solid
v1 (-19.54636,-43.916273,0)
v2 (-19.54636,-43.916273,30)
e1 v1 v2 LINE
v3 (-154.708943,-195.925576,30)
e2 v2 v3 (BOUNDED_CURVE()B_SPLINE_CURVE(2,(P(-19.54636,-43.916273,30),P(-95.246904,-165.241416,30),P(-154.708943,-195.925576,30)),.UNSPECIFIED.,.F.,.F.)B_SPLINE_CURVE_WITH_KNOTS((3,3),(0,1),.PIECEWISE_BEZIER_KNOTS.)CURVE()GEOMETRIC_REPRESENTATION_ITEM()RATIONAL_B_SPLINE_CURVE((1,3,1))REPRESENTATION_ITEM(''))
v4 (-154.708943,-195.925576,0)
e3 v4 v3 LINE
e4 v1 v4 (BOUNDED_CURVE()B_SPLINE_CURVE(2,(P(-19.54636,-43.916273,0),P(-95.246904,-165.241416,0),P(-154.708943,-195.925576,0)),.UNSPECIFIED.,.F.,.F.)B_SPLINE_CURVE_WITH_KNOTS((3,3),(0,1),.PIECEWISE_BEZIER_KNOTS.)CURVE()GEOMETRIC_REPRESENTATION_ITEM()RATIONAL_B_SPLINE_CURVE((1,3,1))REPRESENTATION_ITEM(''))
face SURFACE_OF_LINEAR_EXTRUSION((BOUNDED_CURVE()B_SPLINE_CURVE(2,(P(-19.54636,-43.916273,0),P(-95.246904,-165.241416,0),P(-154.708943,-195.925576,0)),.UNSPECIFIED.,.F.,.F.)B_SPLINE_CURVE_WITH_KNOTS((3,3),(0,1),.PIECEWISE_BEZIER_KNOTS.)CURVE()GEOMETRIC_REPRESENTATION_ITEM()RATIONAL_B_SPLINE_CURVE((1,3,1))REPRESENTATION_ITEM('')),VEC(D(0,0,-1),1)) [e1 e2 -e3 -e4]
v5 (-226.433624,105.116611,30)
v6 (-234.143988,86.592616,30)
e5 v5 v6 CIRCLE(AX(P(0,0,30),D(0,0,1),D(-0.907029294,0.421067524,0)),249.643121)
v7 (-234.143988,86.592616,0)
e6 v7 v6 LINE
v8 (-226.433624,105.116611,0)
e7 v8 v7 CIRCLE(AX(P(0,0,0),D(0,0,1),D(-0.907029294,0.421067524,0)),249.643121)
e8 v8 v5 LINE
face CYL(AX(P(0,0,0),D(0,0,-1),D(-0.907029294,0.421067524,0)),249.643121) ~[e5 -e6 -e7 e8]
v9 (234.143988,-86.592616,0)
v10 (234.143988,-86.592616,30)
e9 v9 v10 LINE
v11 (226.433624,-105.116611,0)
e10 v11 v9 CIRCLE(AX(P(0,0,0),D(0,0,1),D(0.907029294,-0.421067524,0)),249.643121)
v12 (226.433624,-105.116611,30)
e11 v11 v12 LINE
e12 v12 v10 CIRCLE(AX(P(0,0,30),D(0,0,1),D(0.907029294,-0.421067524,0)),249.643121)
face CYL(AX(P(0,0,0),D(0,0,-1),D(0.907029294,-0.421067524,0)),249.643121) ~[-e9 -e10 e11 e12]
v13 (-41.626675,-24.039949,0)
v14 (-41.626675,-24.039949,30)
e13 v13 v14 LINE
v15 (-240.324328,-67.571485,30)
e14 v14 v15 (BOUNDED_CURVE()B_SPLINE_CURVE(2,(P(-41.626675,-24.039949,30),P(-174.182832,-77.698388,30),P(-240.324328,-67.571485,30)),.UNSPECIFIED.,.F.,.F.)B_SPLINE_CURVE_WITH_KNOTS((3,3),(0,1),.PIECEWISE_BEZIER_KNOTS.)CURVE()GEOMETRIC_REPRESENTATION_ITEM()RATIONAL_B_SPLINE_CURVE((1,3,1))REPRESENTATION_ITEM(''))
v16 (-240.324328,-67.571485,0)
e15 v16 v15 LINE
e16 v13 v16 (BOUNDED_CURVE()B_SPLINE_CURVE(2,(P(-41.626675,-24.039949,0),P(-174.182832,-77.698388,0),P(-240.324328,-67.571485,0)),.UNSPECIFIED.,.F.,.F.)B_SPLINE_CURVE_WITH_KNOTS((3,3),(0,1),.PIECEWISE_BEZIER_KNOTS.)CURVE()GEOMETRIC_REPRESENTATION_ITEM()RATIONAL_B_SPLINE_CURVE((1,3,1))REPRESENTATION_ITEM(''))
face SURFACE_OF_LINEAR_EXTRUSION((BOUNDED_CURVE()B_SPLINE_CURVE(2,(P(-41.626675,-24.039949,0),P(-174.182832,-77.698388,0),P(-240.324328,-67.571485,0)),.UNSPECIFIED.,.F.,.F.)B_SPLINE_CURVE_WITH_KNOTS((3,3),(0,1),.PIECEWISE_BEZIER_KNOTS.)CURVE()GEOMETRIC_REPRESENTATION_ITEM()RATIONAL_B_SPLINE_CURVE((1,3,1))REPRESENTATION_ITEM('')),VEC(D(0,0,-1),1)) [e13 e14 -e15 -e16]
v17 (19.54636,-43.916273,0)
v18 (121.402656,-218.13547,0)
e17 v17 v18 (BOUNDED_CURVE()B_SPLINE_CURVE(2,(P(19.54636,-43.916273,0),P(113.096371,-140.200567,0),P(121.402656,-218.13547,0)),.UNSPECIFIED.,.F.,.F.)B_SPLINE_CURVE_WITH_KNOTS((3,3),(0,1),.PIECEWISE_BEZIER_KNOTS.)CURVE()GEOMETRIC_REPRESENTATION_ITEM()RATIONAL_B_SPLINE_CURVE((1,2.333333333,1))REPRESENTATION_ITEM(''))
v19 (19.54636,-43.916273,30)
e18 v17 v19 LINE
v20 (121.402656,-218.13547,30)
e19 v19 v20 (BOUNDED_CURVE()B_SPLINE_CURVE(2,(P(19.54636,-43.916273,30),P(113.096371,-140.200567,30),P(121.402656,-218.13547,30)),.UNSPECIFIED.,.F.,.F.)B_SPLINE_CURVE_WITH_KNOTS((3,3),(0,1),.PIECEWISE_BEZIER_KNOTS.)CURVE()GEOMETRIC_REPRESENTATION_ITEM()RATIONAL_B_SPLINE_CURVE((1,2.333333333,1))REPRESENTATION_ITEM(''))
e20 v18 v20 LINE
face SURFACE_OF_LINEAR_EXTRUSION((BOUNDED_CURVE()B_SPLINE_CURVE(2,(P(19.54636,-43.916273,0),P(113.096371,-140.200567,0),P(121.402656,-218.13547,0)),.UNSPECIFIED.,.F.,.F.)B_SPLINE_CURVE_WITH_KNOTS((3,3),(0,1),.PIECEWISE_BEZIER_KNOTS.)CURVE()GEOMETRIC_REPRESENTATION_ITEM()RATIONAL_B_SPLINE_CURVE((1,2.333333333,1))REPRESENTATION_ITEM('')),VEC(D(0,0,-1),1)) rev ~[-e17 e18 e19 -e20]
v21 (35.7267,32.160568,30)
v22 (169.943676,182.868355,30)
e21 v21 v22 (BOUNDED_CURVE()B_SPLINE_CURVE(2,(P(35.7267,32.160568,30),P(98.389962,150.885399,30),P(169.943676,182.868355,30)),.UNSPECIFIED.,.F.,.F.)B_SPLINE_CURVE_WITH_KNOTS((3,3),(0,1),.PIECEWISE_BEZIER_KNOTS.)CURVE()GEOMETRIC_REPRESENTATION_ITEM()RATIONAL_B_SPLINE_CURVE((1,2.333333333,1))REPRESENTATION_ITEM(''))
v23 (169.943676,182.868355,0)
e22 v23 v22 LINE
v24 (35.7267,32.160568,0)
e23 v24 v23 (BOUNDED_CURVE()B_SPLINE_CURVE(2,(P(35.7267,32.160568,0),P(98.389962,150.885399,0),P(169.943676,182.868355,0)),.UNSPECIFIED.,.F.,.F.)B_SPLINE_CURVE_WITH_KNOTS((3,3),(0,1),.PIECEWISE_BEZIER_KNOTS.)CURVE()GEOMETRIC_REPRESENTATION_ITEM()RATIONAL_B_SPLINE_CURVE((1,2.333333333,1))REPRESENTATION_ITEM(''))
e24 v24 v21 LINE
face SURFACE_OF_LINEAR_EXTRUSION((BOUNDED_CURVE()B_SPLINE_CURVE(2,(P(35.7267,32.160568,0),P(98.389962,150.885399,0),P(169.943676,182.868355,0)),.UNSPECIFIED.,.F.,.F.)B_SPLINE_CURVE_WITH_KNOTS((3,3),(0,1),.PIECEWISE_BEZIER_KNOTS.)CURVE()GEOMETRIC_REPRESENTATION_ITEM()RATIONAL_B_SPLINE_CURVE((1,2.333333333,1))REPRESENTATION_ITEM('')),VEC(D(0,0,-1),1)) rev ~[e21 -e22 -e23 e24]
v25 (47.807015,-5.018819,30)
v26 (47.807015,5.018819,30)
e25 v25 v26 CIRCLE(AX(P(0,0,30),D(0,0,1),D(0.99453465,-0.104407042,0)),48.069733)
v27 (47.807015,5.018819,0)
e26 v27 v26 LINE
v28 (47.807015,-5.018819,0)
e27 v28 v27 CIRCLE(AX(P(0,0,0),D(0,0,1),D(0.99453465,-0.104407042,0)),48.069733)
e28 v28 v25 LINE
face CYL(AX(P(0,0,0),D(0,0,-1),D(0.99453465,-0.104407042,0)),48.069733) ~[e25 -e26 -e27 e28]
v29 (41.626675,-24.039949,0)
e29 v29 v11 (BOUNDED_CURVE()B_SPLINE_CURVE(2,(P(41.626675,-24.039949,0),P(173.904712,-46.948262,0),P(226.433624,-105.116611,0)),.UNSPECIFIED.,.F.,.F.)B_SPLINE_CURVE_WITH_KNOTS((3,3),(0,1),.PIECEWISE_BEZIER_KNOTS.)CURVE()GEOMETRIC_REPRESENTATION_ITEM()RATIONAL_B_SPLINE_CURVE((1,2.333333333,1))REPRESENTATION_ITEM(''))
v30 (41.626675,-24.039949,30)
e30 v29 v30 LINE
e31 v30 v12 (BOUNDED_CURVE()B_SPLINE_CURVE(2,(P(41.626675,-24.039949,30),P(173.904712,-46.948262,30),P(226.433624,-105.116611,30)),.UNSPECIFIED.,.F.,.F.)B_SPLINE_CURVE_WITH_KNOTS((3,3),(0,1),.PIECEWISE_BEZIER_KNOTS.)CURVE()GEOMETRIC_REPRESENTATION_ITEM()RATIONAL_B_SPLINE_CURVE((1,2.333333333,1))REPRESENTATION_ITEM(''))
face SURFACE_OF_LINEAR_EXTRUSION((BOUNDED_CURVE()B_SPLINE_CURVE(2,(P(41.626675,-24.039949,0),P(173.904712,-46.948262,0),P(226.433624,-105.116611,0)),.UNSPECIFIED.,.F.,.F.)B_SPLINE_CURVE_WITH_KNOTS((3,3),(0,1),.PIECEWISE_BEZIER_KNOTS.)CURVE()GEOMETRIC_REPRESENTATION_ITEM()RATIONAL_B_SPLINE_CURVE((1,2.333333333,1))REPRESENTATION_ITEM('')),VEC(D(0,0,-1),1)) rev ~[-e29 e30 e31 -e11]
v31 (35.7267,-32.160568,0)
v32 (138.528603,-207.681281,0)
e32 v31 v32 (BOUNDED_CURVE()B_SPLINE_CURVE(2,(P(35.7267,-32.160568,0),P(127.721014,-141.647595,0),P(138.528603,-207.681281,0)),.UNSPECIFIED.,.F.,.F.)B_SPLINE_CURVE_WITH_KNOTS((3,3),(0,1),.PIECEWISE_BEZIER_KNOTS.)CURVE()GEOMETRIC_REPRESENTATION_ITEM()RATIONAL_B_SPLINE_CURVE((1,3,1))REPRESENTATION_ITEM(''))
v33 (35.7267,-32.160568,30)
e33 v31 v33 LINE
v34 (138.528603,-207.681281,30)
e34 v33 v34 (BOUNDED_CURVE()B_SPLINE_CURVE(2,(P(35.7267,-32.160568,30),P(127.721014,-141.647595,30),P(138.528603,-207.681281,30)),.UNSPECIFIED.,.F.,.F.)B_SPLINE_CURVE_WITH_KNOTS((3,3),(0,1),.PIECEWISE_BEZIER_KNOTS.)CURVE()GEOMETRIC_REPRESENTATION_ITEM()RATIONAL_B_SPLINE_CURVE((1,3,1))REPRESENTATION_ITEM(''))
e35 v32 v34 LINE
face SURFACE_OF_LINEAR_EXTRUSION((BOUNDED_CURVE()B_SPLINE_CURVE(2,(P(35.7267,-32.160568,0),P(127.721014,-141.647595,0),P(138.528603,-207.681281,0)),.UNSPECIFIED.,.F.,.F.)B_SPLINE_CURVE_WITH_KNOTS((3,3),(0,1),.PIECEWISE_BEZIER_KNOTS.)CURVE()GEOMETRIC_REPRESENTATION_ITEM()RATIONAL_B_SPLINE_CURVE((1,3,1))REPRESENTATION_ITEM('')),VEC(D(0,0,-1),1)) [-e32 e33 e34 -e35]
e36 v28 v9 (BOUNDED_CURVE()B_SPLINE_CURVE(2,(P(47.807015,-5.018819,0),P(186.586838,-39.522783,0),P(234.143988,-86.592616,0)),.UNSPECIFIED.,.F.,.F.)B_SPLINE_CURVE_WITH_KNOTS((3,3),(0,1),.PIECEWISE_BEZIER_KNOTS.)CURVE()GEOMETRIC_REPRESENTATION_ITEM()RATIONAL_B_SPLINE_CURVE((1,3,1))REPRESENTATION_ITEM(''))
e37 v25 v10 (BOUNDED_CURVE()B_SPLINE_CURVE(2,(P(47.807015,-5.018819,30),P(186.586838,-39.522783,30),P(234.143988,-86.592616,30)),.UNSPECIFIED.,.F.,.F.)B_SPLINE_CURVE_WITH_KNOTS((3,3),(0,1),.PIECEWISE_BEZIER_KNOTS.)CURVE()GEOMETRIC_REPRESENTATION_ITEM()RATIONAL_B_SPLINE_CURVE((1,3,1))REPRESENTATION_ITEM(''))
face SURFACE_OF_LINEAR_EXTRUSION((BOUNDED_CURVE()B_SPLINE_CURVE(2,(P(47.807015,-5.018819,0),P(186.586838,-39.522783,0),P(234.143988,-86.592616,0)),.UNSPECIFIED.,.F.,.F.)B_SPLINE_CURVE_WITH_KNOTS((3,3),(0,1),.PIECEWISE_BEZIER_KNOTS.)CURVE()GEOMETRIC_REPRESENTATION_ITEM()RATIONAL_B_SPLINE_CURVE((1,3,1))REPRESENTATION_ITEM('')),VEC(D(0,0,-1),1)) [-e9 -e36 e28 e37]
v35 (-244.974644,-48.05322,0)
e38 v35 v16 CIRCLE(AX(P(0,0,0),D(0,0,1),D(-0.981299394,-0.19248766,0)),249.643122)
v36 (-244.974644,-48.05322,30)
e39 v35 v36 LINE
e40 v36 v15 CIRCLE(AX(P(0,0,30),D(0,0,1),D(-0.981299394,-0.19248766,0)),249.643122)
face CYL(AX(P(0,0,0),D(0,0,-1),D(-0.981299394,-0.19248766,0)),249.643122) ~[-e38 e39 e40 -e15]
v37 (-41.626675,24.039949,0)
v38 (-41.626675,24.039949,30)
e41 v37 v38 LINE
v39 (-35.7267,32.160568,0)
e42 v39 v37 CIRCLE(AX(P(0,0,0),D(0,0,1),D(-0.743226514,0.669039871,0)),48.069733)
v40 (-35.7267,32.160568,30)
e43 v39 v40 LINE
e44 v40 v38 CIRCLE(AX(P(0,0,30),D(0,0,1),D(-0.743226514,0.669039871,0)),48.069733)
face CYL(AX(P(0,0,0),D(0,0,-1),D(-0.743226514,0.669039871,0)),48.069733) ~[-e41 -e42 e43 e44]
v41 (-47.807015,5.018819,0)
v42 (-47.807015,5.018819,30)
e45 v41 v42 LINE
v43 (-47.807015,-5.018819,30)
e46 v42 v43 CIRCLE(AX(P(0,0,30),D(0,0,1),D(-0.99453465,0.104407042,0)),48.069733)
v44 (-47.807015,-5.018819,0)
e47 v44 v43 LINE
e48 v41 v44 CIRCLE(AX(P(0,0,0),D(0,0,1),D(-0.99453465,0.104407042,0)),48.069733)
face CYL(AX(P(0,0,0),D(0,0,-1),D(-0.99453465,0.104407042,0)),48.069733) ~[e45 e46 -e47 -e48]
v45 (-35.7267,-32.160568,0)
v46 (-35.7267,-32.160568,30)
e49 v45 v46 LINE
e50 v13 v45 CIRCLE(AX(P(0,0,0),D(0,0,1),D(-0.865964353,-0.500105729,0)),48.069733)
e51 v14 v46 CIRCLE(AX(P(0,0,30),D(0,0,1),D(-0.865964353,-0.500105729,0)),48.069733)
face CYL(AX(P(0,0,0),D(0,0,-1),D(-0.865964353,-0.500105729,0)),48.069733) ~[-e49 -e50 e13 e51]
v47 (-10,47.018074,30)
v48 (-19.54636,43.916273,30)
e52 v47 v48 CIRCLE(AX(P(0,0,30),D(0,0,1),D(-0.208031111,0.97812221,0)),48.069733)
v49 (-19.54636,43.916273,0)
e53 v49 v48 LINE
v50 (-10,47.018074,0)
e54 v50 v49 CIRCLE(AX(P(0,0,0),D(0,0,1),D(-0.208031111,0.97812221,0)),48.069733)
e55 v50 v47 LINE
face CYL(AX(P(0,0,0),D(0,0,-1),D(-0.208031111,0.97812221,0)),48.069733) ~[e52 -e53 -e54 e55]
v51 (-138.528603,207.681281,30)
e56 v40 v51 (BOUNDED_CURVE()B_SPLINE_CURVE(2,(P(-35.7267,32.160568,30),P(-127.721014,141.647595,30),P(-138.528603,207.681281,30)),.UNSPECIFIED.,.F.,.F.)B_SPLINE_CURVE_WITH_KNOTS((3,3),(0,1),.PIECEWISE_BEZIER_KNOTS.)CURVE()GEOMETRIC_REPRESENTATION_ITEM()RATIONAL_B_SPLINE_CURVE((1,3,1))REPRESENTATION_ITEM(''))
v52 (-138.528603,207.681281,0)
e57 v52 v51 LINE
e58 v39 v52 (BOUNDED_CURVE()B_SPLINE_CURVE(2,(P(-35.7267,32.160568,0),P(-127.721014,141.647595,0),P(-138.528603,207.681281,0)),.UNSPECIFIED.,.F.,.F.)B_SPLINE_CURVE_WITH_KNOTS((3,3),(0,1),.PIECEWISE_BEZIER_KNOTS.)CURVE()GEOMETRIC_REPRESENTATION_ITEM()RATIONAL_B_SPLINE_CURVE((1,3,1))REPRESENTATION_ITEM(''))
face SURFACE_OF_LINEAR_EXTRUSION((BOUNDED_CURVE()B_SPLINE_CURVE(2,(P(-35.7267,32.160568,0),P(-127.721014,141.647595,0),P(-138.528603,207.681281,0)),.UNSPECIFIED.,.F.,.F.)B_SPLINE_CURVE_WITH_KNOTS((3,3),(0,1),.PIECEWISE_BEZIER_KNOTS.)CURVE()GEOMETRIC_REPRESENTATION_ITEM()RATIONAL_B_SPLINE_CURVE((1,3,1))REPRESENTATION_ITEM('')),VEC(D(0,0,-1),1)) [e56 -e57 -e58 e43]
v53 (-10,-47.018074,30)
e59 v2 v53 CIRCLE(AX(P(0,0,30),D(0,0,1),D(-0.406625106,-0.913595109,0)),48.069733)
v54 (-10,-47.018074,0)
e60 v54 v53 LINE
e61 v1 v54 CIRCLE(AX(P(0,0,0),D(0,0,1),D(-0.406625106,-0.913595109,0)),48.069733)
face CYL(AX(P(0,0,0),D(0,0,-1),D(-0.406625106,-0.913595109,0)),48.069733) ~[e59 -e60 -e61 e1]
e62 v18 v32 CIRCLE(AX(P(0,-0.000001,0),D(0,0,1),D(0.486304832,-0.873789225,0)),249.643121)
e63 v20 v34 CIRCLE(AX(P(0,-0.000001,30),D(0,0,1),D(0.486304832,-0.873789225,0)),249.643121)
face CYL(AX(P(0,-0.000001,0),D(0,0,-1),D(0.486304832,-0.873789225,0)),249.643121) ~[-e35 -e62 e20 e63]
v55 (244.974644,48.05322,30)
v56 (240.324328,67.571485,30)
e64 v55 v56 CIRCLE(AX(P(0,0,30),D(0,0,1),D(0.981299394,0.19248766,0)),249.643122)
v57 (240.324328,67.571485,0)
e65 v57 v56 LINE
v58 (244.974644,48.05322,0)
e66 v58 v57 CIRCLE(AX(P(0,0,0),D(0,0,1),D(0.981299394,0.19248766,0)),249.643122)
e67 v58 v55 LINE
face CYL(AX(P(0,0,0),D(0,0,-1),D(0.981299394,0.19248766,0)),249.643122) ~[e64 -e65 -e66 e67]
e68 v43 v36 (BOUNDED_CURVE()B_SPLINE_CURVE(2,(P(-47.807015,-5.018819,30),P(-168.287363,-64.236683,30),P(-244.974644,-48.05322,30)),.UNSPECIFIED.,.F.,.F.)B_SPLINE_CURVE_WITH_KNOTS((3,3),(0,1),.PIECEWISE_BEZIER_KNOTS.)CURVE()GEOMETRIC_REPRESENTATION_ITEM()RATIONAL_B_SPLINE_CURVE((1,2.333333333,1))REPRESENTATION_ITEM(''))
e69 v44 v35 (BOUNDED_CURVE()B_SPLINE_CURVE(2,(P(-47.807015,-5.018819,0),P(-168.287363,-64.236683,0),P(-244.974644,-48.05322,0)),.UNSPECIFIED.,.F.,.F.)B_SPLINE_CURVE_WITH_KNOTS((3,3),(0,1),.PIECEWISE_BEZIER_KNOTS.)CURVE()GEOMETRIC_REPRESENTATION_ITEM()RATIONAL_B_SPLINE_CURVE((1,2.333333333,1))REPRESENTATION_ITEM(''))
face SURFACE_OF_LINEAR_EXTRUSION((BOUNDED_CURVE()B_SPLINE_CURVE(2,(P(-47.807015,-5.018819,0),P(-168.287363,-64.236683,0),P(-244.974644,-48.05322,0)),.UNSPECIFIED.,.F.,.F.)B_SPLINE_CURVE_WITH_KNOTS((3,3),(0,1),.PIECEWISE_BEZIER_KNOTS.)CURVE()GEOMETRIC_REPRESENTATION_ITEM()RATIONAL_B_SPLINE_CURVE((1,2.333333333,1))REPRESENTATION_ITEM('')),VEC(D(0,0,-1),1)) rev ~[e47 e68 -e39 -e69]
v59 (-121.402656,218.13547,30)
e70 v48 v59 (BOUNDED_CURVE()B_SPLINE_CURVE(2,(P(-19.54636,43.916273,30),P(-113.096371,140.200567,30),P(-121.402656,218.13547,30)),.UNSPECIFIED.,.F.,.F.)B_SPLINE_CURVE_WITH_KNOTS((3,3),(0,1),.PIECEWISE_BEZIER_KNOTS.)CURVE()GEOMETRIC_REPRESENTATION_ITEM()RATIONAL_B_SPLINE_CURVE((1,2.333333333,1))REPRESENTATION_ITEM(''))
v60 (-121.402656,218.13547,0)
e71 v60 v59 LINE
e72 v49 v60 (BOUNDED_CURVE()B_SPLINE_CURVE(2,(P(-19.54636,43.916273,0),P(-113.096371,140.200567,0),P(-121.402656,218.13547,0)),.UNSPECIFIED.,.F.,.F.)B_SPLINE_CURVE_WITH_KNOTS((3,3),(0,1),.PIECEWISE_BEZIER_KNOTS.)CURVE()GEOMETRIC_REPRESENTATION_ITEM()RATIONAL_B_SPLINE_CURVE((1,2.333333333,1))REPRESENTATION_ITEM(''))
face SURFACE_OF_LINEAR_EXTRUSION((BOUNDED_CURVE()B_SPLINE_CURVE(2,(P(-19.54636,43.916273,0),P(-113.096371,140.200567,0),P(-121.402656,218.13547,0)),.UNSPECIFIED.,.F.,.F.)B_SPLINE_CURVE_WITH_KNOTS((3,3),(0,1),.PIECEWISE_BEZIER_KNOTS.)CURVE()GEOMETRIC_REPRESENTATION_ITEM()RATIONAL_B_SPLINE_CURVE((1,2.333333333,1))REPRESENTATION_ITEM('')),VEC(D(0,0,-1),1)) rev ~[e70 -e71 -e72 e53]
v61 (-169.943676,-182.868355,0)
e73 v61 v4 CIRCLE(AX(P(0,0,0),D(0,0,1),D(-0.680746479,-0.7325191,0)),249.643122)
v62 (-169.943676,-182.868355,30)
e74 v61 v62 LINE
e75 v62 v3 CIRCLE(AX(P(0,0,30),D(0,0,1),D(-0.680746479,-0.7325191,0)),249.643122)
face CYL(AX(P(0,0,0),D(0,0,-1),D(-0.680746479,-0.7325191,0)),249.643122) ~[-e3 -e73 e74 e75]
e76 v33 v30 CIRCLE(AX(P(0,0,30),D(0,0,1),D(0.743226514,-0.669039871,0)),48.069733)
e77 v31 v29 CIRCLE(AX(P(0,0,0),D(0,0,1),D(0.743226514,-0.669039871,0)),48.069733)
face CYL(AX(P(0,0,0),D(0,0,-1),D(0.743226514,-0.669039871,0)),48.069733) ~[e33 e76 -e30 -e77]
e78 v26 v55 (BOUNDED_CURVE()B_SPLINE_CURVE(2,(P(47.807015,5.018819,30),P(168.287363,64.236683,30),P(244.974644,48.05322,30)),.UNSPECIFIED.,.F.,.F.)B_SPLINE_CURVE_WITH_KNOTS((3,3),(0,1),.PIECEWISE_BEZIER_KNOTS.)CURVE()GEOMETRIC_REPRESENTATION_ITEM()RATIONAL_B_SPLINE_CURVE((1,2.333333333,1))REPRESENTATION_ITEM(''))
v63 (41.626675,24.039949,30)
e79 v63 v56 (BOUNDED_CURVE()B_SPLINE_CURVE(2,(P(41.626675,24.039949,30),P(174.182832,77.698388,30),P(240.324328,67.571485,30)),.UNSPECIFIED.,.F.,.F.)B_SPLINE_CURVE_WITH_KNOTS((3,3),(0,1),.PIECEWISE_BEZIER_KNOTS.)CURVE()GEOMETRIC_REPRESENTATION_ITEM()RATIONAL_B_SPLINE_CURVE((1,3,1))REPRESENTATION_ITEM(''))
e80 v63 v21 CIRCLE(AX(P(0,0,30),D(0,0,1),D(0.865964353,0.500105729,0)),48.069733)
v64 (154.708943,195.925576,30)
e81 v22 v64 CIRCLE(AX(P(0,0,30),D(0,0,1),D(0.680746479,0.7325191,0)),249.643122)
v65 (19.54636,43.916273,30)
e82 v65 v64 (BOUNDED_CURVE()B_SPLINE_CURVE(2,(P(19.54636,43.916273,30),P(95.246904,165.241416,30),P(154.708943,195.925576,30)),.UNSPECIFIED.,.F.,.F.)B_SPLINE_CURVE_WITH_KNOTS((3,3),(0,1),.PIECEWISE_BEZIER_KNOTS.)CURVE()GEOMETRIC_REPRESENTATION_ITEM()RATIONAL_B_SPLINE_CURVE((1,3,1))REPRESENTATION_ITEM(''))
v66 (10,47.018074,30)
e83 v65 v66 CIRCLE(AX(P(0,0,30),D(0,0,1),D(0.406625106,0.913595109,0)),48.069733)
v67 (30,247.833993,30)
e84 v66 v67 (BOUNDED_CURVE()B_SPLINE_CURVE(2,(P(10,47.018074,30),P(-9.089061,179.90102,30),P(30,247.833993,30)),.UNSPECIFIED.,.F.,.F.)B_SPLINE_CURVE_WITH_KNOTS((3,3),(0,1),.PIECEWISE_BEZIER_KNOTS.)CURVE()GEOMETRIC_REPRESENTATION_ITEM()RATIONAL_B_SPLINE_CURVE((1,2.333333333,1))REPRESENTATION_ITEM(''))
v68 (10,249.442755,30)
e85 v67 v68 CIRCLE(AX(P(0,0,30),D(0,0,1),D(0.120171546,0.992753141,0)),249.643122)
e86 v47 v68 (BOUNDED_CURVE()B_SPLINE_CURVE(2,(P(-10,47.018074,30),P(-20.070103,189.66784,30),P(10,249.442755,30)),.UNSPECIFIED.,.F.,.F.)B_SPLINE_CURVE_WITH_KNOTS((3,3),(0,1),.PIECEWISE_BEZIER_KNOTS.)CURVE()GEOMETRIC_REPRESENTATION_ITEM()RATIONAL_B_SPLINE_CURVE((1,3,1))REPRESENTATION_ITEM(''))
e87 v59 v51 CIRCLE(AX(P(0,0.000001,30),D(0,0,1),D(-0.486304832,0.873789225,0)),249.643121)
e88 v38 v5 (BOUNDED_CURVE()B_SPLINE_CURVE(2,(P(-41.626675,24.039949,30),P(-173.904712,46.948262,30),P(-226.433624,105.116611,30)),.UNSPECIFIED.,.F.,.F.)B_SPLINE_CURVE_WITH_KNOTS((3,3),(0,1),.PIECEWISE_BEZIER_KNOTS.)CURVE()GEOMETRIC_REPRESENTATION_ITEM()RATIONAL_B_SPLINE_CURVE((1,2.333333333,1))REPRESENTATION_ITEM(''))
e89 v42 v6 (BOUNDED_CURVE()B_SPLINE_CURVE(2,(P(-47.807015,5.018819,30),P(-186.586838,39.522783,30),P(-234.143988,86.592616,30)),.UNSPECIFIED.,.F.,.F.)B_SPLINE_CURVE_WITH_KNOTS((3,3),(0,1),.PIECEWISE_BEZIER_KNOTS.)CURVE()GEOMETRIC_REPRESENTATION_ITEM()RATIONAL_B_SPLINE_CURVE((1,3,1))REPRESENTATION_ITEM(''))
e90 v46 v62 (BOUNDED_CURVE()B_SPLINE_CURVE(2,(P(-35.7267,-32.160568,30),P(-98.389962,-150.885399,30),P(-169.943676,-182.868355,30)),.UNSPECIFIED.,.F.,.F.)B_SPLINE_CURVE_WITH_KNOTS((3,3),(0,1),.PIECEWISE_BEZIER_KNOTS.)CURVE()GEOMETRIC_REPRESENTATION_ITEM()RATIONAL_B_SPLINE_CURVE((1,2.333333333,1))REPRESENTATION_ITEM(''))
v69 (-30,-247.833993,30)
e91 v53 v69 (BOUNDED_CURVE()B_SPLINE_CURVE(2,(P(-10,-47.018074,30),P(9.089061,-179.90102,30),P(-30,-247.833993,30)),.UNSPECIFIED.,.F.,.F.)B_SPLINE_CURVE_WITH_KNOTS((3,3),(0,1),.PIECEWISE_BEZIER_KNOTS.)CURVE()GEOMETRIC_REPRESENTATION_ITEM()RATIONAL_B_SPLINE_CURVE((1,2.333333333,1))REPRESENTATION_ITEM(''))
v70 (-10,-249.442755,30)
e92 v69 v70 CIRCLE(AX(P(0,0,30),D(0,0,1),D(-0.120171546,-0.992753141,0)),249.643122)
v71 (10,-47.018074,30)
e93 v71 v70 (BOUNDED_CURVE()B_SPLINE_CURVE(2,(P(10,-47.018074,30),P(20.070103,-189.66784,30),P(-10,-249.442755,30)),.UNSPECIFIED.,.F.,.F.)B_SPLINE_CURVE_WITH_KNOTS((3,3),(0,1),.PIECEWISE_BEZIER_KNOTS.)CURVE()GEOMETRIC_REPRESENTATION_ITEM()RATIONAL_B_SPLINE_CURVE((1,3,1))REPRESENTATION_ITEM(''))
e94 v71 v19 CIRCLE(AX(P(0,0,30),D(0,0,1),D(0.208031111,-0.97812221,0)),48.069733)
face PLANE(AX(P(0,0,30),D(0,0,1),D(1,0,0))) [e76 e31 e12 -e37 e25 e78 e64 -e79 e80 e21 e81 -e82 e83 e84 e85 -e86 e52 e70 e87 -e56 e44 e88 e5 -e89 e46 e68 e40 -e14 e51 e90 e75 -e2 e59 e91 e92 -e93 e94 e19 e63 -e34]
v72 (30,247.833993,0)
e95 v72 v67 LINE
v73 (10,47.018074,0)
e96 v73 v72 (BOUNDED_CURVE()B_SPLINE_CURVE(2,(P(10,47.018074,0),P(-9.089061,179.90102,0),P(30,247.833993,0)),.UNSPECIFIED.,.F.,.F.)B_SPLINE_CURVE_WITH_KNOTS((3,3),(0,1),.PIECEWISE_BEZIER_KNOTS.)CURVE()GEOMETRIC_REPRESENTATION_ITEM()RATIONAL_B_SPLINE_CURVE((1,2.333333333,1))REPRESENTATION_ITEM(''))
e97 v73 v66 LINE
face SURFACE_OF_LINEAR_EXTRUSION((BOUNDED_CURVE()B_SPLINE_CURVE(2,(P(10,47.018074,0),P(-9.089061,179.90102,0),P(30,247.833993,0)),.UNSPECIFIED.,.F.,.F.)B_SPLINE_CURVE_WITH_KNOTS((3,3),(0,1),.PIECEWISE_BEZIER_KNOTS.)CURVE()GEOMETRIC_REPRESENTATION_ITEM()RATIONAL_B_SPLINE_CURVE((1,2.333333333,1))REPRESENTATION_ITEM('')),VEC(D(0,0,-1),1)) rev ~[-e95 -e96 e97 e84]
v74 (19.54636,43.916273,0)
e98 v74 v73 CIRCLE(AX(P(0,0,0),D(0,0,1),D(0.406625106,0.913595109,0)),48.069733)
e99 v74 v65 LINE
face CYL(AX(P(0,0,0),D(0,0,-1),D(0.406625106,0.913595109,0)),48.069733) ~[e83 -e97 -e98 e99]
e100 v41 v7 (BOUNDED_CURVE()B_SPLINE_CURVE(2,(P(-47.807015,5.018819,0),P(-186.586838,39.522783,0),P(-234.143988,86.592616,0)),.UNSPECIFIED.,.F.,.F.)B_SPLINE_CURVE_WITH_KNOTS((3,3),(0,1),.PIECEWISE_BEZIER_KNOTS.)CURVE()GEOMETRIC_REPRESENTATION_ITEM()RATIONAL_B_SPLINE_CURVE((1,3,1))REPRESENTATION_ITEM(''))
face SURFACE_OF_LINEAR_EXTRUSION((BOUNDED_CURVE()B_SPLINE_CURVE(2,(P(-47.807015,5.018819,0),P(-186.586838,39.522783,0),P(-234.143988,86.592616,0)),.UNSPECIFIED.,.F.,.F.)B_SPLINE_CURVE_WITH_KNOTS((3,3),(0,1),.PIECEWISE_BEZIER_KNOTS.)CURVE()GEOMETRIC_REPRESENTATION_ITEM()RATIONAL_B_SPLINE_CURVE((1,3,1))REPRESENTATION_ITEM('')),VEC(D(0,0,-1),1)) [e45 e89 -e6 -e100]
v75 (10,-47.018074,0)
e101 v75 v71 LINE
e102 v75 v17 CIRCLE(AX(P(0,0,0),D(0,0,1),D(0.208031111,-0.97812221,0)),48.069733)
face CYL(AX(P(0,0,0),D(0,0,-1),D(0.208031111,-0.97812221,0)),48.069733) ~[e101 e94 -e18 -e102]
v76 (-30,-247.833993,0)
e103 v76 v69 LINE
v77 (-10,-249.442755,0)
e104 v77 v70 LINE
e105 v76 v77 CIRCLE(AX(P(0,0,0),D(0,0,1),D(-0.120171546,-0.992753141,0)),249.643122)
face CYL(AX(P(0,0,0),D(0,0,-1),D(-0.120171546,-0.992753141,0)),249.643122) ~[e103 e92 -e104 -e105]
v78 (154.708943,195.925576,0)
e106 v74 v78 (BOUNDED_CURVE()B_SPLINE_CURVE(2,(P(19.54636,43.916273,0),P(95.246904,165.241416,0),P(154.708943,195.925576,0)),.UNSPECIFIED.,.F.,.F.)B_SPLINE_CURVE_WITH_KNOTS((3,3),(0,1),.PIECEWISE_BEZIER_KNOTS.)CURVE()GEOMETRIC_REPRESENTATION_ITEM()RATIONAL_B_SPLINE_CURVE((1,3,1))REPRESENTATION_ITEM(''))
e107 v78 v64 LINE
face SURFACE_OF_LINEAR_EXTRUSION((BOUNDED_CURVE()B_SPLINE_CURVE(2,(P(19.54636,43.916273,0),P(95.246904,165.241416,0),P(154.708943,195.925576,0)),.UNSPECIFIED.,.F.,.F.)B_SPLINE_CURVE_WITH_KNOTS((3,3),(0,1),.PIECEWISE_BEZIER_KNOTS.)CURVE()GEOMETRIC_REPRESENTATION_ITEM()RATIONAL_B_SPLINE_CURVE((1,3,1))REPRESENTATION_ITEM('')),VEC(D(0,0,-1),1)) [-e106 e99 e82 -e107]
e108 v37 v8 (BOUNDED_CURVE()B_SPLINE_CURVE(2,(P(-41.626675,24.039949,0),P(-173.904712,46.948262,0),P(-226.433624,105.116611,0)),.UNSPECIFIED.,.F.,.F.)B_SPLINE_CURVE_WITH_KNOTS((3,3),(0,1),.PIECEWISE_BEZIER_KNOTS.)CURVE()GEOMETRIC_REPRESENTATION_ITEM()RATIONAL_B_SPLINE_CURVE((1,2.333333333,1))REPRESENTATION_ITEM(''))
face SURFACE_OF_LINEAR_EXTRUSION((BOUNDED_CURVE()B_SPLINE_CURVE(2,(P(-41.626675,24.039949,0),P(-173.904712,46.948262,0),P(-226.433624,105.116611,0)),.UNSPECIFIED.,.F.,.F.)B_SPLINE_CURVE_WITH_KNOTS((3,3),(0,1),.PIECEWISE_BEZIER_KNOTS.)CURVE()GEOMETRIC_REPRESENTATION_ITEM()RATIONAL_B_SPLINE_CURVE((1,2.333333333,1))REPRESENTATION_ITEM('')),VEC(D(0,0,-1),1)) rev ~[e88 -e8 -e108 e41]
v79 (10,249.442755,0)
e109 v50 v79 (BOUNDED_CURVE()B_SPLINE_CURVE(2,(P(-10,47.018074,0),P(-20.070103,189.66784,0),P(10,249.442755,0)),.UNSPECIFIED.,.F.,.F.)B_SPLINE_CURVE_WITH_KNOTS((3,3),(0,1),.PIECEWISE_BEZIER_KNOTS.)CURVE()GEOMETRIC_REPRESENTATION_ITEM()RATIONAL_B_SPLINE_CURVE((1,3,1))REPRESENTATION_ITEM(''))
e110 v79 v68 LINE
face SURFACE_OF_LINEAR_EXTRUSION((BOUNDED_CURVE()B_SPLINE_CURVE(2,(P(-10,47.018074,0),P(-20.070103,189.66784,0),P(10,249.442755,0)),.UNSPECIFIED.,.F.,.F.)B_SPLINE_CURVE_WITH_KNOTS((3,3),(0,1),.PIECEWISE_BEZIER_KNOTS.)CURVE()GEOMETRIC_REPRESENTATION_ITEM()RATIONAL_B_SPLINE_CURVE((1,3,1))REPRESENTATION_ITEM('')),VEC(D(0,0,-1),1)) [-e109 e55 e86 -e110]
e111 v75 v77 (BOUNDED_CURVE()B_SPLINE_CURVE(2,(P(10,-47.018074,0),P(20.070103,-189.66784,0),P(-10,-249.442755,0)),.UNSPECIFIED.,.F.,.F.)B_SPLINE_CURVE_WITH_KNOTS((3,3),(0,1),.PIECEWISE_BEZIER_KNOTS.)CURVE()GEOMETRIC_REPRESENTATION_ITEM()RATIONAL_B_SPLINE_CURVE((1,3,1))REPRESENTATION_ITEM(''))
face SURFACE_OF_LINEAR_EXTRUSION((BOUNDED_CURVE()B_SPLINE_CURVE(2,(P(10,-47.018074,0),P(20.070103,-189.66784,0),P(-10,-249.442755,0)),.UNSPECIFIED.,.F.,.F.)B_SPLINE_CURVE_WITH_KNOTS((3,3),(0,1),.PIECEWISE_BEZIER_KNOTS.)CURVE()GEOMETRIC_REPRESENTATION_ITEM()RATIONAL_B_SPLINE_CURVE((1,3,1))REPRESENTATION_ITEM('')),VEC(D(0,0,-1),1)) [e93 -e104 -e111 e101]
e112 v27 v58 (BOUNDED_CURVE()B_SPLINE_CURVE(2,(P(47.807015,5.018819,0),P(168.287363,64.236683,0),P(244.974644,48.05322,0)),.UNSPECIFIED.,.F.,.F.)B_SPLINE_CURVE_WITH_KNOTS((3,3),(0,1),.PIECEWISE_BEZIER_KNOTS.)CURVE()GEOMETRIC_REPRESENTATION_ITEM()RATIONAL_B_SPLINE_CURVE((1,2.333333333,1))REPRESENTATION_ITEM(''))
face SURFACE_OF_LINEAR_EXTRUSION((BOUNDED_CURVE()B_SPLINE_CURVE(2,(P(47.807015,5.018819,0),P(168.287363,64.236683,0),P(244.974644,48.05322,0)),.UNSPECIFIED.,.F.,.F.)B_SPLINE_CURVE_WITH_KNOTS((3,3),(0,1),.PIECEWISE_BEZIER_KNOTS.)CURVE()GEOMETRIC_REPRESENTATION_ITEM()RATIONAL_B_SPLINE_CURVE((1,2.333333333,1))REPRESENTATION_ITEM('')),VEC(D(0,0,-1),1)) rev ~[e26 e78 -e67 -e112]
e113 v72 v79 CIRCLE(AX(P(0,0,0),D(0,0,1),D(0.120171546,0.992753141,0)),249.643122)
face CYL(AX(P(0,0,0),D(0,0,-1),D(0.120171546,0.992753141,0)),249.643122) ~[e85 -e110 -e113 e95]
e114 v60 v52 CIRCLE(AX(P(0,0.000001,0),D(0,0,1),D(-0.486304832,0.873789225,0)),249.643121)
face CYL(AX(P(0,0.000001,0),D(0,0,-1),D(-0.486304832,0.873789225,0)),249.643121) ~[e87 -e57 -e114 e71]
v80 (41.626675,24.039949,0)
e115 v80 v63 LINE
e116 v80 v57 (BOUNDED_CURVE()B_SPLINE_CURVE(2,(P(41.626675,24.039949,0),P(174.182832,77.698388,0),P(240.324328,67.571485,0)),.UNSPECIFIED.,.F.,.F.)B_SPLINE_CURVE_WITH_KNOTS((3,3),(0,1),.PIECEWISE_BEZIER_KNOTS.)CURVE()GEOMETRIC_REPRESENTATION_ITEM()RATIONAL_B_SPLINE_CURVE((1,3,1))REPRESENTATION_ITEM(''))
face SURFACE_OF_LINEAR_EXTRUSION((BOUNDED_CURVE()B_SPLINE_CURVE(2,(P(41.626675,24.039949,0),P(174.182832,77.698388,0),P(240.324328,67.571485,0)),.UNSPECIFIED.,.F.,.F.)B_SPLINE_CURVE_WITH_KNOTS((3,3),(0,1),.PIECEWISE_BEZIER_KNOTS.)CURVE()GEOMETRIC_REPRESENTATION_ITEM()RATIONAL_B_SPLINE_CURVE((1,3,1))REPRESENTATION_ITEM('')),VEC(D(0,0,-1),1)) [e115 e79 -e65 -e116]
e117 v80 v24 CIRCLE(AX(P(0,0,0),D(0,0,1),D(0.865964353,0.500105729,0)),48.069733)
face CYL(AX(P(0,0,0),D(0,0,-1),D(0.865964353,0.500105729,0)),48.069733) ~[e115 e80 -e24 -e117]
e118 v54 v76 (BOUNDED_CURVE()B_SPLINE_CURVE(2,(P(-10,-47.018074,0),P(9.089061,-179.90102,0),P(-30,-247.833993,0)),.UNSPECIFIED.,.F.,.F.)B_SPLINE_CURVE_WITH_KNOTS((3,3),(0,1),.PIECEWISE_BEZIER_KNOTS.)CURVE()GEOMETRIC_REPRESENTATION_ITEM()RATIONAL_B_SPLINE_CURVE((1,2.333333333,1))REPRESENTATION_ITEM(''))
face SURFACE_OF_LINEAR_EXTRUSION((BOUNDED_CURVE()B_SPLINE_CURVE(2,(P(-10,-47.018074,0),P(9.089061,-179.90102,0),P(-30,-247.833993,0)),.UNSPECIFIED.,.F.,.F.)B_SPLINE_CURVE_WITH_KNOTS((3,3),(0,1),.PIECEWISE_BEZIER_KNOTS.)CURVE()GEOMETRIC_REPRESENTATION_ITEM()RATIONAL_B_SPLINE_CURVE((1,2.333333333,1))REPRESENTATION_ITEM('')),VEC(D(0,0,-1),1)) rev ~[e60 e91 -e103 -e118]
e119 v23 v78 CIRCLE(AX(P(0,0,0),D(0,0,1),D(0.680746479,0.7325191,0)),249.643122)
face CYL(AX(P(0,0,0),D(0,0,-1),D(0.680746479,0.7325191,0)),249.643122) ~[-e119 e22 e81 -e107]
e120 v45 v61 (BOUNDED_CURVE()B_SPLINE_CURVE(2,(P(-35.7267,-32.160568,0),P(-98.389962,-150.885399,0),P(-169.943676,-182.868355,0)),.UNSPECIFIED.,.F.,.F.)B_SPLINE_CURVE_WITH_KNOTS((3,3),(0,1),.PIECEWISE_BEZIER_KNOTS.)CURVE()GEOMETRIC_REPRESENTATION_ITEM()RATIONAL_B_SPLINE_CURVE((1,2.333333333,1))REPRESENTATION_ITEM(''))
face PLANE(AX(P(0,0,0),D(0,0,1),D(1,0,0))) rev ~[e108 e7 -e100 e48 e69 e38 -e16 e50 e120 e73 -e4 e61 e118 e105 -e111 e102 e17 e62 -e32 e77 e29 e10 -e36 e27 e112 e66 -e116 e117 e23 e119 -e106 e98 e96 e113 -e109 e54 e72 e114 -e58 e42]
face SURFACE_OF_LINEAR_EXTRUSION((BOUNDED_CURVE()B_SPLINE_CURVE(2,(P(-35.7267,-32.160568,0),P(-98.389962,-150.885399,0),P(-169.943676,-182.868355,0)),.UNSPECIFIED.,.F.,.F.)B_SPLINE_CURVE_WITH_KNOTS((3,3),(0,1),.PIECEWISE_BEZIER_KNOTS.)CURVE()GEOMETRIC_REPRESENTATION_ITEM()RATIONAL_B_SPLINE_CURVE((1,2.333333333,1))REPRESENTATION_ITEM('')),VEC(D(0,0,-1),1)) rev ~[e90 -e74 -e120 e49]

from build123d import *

# Parameters (mm, degrees)
BOSS_EXTRUDE3_DEPTH = 30


with BuildPart() as part:
    # Sketch1 → Boss-Extrude3 (new body)
    with BuildSketch(Plane.XY):
        with BuildLine():
            ThreePointArc((-10, 47.018073759), (-14.854364506, 45.717033096), (-19.546360403, 43.916273236))
            add(Edge.make_bspline(
                [(-19.546360403, 43.916273236), (-113.09637125, 140.200566945), (-121.402656368, 218.135469823)],
                knots=[0, 0, 0, 1, 1, 1], degree=2, weights=[1, 2.333333333, 1]))
            ThreePointArc((-121.402656368, 218.135469823), (-130.070701563, 213.080503011), (-138.528602909, 207.681280679))
            add(Edge.make_bspline(
                [(-35.72670029, 32.160568191), (-127.721013505, 141.647594866), (-138.528602909, 207.681280679)],
                knots=[0, 0, 0, 1, 1, 1], degree=2, weights=[1, 3, 1]))
            ThreePointArc((-35.72670029, 32.160568191), (-38.889231158, 28.254680318), (-41.626675488, 24.039948997))
            add(Edge.make_bspline(
                [(-41.626675488, 24.039948997), (-173.904711956, 46.948262171), (-226.433624328, 105.116611161)],
                knots=[0, 0, 0, 1, 1, 1], degree=2, weights=[1, 2.333333333, 1]))
            ThreePointArc((-226.433624328, 105.116611161), (-230.474985255, 95.932107972), (-234.14398792, 86.592615672))
            add(Edge.make_bspline(
                [(-47.807015375, 5.018818671), (-186.586837749, 39.522783313), (-234.14398792, 86.592615672)],
                knots=[0, 0, 0, 1, 1, 1], degree=2, weights=[1, 3, 1]))
            ThreePointArc((-47.807015375, 5.018818671), (-48.069733304, 0), (-47.807015375, -5.018818671))
            add(Edge.make_bspline(
                [(-47.807015375, -5.018818671), (-168.2873635, -64.236683039), (-244.974643991, -48.053220183)],
                knots=[0, 0, 0, 1, 1, 1], degree=2, weights=[1, 2.333333333, 1]))
            ThreePointArc((-244.974643991, -48.053220183), (-242.845658137, -57.8590917), (-240.324327808, -67.571485346))
            add(Edge.make_bspline(
                [(-41.626675488, -24.039948997), (-174.182831827, -77.698388136), (-240.324327808, -67.571485346)],
                knots=[0, 0, 0, 1, 1, 1], degree=2, weights=[1, 3, 1]))
            ThreePointArc((-41.626675488, -24.039948997), (-38.889231158, -28.254680318), (-35.72670029, -32.160568191))
            add(Edge.make_bspline(
                [(-35.72670029, -32.160568191), (-98.389962063, -150.885398653), (-169.943676031, -182.868354686)],
                knots=[0, 0, 0, 1, 1, 1], degree=2, weights=[1, 2.333333333, 1]))
            ThreePointArc((-169.943676031, -182.868354686), (-162.457543631, -189.5500849), (-154.708942796, -195.925575633))
            add(Edge.make_bspline(
                [(-19.546360403, -43.916273236), (-95.246904403, -165.241416188), (-154.708942796, -195.925575633)],
                knots=[0, 0, 0, 1, 1, 1], degree=2, weights=[1, 3, 1]))
            ThreePointArc((-19.546360403, -43.916273236), (-14.854364506, -45.717033096), (-10, -47.018073759))
            add(Edge.make_bspline(
                [(-10, -47.018073759), (9.08906073, -179.901020388), (-30, -247.833993165)],
                knots=[0, 0, 0, 1, 1, 1], degree=2, weights=[1, 2.333333333, 1]))
            ThreePointArc((-30, -247.833993165), (-20.016169186, -248.839388239), (-10, -249.442755293))
            add(Edge.make_bspline(
                [(10, -47.018073759), (20.070103179, -189.667839605), (-10, -249.442755293)],
                knots=[0, 0, 0, 1, 1, 1], degree=2, weights=[1, 3, 1]))
            ThreePointArc((10, -47.018073759), (14.854364506, -45.717033096), (19.546360403, -43.916273236))
            add(Edge.make_bspline(
                [(19.546360403, -43.916273236), (113.09637125, -140.200566945), (121.402656368, -218.135469823)],
                knots=[0, 0, 0, 1, 1, 1], degree=2, weights=[1, 2.333333333, 1]))
            ThreePointArc((121.402656368, -218.135469823), (130.070701563, -213.080503011), (138.528602909, -207.681280679))
            add(Edge.make_bspline(
                [(35.72670029, -32.160568191), (127.721013505, -141.647594866), (138.528602909, -207.681280679)],
                knots=[0, 0, 0, 1, 1, 1], degree=2, weights=[1, 3, 1]))
            ThreePointArc((35.72670029, -32.160568191), (38.889231158, -28.254680318), (41.626675488, -24.039948997))
            add(Edge.make_bspline(
                [(41.626675488, -24.039948997), (173.904711956, -46.948262171), (226.433624328, -105.116611161)],
                knots=[0, 0, 0, 1, 1, 1], degree=2, weights=[1, 2.333333333, 1]))
            ThreePointArc((226.433624328, -105.116611161), (230.474985255, -95.932107972), (234.14398792, -86.592615672))
            add(Edge.make_bspline(
                [(47.807015375, -5.018818671), (186.586837749, -39.522783313), (234.14398792, -86.592615672)],
                knots=[0, 0, 0, 1, 1, 1], degree=2, weights=[1, 3, 1]))
            ThreePointArc((47.807015375, -5.018818671), (48.069733304, 0), (47.807015375, 5.018818671))
            add(Edge.make_bspline(
                [(47.807015375, 5.018818671), (168.2873635, 64.236683039), (244.974643991, 48.053220183)],
                knots=[0, 0, 0, 1, 1, 1], degree=2, weights=[1, 2.333333333, 1]))
            ThreePointArc((244.974643991, 48.053220183), (242.845658137, 57.8590917), (240.324327808, 67.571485346))
            add(Edge.make_bspline(
                [(41.626675488, 24.039948997), (174.182831827, 77.698388136), (240.324327808, 67.571485346)],
                knots=[0, 0, 0, 1, 1, 1], degree=2, weights=[1, 3, 1]))
            ThreePointArc((41.626675488, 24.039948997), (38.889231158, 28.254680318), (35.72670029, 32.160568191))
            add(Edge.make_bspline(
                [(35.72670029, 32.160568191), (98.389962063, 150.885398653), (169.943676031, 182.868354686)],
                knots=[0, 0, 0, 1, 1, 1], degree=2, weights=[1, 2.333333333, 1]))
            ThreePointArc((169.943676031, 182.868354686), (162.457543631, 189.5500849), (154.708942796, 195.925575633))
            add(Edge.make_bspline(
                [(19.546360403, 43.916273236), (95.246904403, 165.241416188), (154.708942796, 195.925575633)],
                knots=[0, 0, 0, 1, 1, 1], degree=2, weights=[1, 3, 1]))
            ThreePointArc((19.546360403, 43.916273236), (14.854364506, 45.717033096), (10, 47.018073759))
            add(Edge.make_bspline(
                [(10, 47.018073759), (-9.08906073, 179.901020388), (30, 247.833993165)],
                knots=[0, 0, 0, 1, 1, 1], degree=2, weights=[1, 2.333333333, 1]))
            ThreePointArc((30, 247.833993165), (20.016169186, 248.839388239), (10, 249.442755293))
            add(Edge.make_bspline(
                [(-10, 47.018073759), (-20.070103179, 189.667839605), (10, 249.442755293)],
                knots=[0, 0, 0, 1, 1, 1], degree=2, weights=[1, 3, 1]))
        make_face()
    extrude(amount=BOSS_EXTRUDE3_DEPTH)


solid = part.part
